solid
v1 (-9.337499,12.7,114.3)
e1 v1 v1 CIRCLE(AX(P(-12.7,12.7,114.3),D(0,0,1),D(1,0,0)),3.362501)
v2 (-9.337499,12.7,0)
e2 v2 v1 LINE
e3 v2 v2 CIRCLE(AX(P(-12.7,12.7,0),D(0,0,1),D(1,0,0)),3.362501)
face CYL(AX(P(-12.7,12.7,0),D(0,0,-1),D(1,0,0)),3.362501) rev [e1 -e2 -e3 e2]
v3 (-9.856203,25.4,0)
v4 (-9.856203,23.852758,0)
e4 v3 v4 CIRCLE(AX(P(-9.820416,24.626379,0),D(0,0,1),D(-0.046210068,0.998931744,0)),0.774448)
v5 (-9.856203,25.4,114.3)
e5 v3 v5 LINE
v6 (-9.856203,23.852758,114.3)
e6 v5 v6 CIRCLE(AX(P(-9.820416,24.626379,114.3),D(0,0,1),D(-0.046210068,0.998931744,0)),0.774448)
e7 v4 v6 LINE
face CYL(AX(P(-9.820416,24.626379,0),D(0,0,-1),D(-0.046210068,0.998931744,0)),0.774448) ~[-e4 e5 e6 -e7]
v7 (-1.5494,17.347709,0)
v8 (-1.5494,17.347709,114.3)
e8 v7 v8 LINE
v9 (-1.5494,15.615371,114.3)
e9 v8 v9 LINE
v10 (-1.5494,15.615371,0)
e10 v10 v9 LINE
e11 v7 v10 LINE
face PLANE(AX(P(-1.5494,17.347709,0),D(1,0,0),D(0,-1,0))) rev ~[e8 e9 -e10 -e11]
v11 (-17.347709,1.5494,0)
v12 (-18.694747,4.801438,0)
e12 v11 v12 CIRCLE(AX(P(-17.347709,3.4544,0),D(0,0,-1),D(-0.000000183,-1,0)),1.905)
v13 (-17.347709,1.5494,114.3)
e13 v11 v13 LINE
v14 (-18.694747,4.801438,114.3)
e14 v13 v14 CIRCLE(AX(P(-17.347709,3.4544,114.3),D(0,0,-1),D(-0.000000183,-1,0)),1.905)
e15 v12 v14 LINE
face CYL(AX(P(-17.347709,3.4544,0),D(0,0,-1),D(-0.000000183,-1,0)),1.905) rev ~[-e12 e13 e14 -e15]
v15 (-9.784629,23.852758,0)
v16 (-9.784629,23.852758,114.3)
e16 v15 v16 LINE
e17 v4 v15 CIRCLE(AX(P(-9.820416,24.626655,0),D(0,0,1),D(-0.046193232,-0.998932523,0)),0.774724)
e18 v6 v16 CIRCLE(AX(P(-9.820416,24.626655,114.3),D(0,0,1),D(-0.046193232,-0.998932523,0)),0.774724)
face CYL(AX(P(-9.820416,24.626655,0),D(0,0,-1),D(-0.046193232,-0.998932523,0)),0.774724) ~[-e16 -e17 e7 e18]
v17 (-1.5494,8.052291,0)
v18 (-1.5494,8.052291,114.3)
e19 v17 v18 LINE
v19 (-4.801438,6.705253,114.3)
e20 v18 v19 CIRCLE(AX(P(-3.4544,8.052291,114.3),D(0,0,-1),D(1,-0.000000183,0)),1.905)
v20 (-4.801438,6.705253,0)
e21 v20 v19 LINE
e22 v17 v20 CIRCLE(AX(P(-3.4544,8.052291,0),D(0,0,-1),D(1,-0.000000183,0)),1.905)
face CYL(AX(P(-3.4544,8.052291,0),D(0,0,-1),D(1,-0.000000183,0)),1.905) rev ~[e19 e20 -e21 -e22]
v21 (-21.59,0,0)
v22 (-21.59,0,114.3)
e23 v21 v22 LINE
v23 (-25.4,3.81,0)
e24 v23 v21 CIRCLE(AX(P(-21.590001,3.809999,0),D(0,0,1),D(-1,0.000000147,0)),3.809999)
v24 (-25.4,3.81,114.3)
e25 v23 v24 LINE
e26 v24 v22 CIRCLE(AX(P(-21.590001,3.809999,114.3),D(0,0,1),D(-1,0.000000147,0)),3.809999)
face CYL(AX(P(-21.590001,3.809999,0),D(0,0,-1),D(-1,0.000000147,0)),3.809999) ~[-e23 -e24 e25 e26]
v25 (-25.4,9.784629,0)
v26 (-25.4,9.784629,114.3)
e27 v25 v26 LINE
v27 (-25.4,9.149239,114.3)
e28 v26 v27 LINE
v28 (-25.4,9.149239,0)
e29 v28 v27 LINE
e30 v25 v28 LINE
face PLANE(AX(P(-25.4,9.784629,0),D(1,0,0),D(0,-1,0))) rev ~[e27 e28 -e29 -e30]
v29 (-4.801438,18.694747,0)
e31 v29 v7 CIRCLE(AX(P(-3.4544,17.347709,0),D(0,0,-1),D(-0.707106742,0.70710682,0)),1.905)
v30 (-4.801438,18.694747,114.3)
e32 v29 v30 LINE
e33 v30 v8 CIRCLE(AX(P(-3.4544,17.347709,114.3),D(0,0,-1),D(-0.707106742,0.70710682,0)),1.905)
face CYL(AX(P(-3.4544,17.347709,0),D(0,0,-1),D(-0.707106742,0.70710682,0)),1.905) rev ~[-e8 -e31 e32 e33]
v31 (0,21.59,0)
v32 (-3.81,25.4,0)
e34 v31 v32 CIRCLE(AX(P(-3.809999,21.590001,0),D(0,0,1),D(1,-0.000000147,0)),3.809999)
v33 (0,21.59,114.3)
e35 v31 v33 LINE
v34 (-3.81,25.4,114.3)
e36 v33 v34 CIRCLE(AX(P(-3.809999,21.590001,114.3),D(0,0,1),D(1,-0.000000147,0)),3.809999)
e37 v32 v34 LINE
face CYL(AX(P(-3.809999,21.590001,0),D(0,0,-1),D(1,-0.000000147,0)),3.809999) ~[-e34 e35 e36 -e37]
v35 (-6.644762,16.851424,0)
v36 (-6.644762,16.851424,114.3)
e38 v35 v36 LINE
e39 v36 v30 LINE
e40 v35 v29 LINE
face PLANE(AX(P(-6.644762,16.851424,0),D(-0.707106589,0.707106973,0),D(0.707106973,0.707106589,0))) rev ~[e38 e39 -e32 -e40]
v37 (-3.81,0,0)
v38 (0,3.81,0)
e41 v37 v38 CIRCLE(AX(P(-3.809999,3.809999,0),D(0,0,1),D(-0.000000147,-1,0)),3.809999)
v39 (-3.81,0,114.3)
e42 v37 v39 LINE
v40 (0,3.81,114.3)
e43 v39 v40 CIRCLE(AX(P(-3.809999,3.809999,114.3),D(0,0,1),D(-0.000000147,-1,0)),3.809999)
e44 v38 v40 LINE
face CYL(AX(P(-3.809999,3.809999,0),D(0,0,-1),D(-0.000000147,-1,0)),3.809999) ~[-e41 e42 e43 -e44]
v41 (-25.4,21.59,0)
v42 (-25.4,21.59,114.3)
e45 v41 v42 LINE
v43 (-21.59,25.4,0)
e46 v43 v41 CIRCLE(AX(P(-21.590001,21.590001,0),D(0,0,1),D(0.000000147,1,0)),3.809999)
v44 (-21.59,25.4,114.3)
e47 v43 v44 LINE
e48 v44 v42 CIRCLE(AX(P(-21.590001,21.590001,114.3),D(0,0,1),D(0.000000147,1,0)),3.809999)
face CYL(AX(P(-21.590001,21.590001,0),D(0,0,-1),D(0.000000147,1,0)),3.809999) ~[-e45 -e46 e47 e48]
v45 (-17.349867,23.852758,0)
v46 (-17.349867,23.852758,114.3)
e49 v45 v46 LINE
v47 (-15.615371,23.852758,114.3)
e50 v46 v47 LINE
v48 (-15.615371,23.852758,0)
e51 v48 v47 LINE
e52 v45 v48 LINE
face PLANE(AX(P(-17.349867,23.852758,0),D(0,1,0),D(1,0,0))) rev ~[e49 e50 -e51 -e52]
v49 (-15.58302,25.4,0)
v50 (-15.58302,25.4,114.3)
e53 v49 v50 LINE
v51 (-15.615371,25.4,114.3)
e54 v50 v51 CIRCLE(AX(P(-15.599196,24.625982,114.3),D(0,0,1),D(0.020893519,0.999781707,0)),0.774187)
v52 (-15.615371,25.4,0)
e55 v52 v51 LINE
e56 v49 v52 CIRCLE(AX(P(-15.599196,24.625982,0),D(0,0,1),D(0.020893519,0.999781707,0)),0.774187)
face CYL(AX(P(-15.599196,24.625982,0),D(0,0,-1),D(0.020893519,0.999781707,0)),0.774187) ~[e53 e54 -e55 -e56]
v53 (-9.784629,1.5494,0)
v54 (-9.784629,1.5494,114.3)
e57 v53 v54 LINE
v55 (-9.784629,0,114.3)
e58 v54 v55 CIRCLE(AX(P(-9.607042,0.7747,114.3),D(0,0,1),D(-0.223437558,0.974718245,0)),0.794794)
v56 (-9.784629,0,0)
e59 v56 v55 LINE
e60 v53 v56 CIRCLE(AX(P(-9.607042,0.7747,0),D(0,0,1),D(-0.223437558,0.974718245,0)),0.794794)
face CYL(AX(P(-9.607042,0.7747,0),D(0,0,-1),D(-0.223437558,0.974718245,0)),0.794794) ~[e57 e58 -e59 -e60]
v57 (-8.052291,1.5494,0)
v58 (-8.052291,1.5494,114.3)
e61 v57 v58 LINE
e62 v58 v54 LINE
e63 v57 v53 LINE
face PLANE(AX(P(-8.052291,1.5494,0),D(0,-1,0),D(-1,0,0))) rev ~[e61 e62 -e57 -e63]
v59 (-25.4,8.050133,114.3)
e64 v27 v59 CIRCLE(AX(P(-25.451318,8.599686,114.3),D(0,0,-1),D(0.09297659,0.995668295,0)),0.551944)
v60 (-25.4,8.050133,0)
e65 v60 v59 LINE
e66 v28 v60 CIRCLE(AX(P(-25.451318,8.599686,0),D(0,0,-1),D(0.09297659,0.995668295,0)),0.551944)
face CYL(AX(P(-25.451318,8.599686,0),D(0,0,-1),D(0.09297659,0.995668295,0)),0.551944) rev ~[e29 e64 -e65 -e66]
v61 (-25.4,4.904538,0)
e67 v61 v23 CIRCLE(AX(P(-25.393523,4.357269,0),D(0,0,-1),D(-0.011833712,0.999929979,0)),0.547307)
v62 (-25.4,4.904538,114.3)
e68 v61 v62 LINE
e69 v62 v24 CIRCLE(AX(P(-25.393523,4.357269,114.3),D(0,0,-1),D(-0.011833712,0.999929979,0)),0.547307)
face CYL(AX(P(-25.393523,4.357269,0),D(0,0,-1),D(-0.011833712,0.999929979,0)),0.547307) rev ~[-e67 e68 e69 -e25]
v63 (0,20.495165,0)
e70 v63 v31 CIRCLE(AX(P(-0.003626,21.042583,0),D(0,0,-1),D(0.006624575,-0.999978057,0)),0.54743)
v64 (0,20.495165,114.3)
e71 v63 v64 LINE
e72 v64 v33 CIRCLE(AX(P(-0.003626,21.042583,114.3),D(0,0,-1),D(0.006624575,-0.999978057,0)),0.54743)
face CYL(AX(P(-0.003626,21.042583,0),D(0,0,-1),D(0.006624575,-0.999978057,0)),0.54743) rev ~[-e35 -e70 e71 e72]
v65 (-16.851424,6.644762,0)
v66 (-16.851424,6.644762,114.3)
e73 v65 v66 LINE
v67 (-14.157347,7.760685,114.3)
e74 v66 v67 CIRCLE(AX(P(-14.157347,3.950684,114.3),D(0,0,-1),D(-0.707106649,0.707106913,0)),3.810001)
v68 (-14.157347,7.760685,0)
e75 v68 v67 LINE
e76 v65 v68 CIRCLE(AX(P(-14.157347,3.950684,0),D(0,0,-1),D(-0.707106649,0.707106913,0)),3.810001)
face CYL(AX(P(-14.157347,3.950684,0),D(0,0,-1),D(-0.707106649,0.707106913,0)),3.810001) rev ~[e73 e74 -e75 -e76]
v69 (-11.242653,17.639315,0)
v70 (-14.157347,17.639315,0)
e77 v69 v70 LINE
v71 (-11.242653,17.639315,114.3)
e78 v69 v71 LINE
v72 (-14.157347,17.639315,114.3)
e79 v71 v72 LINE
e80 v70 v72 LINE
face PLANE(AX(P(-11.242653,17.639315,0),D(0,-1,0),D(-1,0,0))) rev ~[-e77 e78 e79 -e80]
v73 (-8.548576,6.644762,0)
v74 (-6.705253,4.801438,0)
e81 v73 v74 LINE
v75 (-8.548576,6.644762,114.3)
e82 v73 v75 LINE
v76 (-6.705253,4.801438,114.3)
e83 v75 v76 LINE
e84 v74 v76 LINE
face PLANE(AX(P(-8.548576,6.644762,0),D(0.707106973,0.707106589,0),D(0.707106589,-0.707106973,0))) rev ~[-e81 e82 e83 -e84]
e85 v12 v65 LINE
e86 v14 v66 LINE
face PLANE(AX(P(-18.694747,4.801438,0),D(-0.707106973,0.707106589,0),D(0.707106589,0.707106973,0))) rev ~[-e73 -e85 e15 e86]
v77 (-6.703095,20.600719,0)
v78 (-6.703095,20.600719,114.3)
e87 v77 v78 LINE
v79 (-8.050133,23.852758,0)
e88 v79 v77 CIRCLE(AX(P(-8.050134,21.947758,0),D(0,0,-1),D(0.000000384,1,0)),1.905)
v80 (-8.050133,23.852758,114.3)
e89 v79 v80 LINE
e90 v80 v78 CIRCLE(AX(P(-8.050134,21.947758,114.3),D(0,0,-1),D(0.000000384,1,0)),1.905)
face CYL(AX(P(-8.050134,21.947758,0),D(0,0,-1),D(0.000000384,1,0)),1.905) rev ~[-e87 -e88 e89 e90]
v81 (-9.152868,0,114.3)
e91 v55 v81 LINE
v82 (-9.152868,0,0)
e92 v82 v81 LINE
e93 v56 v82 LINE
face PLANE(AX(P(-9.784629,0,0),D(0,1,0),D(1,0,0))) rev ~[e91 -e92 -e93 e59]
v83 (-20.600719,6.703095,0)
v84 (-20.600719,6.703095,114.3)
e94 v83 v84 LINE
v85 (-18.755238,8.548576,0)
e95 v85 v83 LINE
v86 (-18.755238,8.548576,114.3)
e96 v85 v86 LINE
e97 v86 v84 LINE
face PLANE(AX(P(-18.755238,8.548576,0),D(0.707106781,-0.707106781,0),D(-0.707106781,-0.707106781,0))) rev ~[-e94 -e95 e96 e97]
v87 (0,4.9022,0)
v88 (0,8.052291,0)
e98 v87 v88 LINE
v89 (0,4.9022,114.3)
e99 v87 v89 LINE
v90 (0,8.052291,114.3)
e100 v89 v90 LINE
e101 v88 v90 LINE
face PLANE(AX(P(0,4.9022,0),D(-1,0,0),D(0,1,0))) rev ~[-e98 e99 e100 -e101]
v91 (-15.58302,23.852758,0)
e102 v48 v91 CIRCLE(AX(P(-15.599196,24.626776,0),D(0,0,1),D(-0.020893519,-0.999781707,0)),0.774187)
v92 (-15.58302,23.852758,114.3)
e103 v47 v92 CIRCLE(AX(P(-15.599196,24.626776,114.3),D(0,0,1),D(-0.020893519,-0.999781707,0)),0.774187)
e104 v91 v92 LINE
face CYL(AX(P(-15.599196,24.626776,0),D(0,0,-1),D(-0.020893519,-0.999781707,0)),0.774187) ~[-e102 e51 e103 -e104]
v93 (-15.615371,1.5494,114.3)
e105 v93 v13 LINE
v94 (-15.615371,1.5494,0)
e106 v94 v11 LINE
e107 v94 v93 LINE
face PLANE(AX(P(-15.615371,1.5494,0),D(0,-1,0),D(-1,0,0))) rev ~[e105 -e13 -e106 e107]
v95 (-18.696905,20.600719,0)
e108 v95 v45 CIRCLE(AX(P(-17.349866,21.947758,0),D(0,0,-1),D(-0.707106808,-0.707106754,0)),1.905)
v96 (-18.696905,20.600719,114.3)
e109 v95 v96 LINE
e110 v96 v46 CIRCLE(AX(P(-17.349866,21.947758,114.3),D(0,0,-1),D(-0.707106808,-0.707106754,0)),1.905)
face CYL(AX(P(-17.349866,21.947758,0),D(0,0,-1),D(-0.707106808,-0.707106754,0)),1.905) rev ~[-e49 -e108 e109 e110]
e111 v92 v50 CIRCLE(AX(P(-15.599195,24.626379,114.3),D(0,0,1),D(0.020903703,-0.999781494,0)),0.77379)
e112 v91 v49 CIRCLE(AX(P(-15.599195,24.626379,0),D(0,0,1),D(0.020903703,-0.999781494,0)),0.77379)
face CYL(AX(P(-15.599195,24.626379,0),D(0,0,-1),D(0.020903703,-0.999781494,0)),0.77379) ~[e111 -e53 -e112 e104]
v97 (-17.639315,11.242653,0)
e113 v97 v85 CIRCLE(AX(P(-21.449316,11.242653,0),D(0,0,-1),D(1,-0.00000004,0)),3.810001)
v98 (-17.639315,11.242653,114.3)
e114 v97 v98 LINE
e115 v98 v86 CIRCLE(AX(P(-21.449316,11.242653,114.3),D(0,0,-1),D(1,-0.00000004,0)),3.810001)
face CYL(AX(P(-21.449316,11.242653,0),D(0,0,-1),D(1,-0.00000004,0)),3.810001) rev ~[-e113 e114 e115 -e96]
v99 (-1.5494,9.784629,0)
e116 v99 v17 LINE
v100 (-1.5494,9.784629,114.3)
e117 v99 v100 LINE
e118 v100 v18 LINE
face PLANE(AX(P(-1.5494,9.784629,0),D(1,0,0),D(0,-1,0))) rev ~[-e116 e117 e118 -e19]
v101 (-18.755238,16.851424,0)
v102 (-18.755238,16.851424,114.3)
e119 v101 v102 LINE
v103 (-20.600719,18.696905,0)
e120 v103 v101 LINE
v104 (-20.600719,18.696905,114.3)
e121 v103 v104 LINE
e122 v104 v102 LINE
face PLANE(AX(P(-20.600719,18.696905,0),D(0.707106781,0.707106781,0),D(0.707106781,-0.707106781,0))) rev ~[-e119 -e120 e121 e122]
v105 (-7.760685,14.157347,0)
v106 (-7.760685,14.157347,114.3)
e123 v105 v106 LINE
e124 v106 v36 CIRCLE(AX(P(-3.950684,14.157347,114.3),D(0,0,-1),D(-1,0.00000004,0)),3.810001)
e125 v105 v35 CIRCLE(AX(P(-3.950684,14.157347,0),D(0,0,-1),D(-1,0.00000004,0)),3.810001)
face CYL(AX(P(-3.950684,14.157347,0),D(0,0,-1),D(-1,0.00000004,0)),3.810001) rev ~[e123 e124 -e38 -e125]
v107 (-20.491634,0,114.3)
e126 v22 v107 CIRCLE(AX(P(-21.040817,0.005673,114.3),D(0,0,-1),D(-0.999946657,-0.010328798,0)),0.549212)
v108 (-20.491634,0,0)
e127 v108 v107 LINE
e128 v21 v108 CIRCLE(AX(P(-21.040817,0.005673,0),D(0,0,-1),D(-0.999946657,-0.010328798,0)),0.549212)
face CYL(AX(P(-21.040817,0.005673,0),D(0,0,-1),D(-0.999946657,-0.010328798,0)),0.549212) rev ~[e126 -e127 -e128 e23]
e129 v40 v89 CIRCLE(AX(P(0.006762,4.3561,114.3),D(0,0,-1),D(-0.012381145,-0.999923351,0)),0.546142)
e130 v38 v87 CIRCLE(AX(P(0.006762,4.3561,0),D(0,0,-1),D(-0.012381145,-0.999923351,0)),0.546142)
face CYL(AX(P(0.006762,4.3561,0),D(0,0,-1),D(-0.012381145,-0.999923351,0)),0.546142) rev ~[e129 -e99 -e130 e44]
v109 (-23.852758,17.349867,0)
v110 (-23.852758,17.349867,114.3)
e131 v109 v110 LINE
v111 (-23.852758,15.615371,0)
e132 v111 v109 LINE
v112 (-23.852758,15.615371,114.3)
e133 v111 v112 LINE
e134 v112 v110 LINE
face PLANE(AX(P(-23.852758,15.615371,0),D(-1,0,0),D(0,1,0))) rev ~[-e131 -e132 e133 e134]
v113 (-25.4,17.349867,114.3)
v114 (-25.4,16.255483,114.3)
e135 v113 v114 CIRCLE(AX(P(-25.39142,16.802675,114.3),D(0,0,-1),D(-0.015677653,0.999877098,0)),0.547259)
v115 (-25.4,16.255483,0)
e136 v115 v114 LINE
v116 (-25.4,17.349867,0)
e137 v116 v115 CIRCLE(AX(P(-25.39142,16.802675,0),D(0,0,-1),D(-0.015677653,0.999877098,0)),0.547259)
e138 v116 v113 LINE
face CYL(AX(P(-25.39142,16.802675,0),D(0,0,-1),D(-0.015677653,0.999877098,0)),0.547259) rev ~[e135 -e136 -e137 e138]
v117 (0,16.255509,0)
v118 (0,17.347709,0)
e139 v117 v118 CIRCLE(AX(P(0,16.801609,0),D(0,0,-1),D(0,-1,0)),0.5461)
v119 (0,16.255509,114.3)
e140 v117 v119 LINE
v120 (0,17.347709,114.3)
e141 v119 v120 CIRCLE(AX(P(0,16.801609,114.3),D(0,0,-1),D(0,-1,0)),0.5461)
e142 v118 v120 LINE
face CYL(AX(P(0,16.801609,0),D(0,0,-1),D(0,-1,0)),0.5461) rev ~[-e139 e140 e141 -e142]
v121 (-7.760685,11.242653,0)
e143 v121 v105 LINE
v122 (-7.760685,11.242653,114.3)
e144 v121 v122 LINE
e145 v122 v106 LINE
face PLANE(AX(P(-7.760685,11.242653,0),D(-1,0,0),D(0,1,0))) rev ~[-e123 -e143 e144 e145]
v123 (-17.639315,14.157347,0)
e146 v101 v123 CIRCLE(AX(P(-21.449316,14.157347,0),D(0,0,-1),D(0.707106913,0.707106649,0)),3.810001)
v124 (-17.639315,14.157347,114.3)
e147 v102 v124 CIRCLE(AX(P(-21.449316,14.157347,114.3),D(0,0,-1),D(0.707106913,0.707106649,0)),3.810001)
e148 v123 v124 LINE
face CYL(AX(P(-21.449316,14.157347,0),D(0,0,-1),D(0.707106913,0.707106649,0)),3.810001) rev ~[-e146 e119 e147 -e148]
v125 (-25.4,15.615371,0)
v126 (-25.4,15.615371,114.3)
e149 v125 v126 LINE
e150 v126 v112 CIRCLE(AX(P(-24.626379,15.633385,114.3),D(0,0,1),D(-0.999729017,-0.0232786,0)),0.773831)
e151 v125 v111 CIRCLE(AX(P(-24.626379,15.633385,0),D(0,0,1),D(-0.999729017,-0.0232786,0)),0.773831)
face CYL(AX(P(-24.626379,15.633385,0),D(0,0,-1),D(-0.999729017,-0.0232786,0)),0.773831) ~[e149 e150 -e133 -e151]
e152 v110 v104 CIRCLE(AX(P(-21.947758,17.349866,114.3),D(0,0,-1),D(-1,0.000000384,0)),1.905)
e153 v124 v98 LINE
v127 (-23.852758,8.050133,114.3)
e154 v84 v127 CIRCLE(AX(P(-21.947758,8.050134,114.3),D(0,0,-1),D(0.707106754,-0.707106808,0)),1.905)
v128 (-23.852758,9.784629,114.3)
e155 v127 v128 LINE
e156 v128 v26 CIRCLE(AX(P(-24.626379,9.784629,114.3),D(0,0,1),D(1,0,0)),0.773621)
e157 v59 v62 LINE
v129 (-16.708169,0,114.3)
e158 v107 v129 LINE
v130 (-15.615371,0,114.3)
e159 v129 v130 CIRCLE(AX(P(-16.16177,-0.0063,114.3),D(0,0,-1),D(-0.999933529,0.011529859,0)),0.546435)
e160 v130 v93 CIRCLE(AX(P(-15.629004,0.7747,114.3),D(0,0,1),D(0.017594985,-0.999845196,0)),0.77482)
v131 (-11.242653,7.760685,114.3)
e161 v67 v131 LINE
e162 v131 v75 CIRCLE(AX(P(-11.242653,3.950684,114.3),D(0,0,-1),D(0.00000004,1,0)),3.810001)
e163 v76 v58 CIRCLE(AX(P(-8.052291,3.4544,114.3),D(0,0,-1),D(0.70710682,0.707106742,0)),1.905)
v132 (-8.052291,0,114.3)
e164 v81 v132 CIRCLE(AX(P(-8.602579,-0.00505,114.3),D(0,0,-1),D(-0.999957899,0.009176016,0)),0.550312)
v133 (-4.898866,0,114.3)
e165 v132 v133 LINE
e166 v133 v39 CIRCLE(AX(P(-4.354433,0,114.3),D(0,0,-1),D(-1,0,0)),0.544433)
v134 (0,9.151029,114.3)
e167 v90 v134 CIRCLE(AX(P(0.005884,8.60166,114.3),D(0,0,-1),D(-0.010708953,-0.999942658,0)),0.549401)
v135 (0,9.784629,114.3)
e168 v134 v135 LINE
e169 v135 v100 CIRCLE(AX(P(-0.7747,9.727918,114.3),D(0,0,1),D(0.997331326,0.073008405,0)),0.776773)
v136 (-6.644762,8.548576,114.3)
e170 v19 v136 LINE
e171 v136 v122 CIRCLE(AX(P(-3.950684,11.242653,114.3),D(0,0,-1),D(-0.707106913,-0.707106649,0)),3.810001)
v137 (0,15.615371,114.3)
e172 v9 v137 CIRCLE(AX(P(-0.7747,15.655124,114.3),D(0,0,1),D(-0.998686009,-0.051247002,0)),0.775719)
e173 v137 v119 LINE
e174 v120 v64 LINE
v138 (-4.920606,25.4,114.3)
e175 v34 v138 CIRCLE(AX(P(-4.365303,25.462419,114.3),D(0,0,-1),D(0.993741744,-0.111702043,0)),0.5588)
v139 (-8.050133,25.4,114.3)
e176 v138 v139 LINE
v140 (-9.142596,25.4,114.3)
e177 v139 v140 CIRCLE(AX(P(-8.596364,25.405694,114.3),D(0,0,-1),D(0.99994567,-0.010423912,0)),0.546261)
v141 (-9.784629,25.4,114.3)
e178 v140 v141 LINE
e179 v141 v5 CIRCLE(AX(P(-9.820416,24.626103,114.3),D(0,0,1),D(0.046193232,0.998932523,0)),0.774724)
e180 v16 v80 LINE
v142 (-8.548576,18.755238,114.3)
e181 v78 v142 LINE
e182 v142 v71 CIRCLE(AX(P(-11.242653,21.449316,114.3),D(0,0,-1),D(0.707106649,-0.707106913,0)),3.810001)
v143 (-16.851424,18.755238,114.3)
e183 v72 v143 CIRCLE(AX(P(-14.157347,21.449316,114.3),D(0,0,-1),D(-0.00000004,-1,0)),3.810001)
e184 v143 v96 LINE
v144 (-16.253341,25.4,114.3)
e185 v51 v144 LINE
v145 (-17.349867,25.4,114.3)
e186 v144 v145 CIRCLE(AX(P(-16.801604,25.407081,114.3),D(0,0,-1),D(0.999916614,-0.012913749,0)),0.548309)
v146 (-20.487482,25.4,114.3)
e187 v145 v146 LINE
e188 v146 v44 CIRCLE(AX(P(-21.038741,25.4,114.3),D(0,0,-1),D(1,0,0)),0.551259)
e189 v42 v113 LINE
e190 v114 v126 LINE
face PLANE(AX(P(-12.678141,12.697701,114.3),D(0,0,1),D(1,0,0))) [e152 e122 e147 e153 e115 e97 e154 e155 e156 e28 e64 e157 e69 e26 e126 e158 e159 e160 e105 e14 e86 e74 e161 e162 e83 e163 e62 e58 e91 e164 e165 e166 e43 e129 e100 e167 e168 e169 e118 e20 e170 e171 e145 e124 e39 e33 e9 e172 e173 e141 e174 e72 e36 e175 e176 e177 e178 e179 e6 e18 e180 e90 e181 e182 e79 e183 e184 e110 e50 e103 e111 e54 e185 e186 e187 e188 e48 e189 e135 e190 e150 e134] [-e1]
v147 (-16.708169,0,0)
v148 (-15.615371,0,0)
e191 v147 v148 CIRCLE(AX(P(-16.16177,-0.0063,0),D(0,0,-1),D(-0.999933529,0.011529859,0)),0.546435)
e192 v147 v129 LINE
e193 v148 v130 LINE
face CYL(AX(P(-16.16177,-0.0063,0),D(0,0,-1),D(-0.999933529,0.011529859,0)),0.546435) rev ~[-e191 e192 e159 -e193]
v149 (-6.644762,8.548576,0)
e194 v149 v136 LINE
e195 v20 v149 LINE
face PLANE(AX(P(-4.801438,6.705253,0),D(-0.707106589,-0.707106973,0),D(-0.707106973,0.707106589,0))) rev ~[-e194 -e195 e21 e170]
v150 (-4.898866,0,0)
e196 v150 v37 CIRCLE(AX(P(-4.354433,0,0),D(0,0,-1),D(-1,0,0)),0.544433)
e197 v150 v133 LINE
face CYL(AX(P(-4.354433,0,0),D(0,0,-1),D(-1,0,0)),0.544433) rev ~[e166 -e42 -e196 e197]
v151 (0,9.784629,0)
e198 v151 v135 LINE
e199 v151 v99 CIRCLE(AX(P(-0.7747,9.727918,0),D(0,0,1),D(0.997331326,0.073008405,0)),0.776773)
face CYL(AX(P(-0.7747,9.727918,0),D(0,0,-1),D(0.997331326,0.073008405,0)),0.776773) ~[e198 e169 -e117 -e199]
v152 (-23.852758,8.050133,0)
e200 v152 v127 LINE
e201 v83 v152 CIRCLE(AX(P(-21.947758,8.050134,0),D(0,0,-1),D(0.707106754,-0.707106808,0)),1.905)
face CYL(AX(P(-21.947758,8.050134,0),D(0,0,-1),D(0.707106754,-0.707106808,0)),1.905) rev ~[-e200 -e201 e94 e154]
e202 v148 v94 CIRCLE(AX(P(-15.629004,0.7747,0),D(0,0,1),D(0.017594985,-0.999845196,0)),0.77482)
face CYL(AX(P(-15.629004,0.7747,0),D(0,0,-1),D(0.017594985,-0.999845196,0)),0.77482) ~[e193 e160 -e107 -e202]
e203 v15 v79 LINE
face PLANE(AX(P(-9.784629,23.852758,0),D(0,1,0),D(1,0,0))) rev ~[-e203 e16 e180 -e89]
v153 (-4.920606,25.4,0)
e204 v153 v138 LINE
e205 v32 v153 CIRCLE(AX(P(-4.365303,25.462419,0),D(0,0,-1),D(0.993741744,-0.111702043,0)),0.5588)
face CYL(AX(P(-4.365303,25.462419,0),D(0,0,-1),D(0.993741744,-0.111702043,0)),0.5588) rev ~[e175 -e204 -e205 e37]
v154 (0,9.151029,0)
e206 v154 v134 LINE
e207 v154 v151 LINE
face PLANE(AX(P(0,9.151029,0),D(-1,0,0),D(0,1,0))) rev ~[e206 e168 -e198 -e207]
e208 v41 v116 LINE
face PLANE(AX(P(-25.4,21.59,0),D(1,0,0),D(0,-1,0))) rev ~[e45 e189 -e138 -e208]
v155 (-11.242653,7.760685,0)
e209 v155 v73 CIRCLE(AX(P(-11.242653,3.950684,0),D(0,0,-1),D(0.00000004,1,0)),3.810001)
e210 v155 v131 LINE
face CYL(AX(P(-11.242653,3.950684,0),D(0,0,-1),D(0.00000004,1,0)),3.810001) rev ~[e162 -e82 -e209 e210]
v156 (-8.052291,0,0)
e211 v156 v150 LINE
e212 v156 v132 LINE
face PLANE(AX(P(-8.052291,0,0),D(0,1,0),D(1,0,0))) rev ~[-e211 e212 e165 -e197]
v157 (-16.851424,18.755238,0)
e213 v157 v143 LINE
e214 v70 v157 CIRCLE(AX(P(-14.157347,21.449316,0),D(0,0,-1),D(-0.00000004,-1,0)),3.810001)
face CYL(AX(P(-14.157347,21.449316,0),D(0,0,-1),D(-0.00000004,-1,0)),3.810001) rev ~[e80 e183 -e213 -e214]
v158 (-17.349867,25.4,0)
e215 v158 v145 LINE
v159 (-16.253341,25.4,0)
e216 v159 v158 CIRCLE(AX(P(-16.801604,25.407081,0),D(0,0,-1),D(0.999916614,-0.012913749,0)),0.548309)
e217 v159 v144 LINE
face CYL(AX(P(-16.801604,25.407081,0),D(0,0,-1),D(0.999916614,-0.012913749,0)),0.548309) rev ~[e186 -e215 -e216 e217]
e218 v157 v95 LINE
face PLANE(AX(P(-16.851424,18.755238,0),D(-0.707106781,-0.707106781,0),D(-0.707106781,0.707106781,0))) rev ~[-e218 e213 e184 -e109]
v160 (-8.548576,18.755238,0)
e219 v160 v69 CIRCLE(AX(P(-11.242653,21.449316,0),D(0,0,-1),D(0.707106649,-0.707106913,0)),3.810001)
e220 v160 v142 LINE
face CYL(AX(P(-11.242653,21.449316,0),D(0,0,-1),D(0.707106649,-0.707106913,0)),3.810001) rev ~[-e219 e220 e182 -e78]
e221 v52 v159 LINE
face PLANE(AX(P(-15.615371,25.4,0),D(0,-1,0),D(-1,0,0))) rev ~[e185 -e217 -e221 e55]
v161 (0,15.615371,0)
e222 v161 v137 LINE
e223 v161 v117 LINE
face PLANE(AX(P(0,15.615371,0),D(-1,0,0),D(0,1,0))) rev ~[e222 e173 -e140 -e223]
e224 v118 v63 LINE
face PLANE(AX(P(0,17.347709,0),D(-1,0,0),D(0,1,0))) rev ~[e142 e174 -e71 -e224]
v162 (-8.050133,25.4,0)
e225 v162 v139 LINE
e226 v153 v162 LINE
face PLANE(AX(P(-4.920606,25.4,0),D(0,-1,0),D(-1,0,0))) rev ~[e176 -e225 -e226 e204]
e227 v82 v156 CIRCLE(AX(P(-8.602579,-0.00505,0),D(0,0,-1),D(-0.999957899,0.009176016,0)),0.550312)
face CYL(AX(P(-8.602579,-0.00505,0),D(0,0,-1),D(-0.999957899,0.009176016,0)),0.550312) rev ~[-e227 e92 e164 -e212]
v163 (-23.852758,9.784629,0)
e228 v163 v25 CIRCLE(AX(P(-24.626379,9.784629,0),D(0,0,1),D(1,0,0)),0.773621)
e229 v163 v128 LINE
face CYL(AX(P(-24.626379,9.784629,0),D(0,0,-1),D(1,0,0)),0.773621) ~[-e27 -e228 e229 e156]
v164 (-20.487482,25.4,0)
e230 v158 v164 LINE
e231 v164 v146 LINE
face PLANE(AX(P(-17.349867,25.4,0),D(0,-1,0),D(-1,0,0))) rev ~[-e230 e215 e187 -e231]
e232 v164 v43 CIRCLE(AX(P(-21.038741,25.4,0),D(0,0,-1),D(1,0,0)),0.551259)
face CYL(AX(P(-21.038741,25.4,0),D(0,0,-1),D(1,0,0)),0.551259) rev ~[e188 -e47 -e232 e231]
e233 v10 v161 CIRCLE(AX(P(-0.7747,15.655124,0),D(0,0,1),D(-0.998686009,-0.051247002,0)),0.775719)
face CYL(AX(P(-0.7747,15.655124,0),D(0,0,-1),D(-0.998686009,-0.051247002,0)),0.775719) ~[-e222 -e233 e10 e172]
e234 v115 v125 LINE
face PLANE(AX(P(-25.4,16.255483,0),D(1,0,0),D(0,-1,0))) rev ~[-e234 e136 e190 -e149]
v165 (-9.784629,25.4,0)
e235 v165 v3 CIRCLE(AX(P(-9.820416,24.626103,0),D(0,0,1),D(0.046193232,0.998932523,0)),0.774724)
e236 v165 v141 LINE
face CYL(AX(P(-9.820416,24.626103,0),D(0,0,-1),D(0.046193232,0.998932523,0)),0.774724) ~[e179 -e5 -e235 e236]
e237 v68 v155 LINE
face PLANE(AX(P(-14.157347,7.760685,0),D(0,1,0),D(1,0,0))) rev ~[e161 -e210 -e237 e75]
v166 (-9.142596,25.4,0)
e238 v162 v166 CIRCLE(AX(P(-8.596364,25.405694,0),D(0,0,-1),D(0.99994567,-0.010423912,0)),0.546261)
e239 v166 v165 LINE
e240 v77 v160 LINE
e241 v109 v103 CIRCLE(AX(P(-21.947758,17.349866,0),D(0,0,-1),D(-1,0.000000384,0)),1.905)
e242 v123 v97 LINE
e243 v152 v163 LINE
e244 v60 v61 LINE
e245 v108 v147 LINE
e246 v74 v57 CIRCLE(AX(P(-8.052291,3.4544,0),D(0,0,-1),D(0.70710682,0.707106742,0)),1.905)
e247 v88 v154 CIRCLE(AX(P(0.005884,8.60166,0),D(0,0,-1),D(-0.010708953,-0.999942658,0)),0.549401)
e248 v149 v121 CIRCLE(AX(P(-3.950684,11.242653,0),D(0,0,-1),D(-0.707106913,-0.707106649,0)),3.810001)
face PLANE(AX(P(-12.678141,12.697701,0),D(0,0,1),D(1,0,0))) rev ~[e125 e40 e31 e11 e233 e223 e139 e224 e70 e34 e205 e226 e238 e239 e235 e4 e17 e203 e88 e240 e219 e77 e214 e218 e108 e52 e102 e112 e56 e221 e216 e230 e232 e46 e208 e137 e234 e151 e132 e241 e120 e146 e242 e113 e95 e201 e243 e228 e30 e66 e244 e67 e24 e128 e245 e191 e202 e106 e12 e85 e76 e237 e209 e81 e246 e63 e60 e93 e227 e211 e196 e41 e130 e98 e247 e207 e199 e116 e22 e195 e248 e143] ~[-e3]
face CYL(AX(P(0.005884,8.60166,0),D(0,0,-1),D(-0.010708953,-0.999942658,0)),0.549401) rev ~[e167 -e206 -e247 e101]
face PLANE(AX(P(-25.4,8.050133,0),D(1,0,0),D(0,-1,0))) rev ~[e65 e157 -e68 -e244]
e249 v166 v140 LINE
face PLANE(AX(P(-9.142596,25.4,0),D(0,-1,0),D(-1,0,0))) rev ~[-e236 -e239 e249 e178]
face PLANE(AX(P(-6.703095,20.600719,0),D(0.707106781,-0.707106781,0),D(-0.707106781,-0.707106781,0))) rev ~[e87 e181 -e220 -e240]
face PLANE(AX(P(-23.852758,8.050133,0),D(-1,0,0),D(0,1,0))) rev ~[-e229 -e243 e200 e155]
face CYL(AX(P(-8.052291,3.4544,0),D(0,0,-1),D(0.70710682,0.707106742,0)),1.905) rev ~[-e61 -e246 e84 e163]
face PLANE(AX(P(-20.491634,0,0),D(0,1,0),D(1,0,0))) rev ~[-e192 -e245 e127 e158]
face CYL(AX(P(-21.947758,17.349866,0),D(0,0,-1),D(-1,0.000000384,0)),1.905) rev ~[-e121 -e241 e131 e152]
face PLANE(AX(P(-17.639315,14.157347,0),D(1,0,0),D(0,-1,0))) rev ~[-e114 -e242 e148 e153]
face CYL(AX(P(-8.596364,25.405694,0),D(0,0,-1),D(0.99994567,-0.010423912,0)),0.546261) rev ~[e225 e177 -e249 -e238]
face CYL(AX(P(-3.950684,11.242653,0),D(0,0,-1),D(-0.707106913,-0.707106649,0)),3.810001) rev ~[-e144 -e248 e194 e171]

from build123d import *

# Parameters (mm, degrees)
F0_R     = 3.362501
F1_DEPTH = 114.3


with BuildPart() as f1:
    # F0 (on Top) → F1 (new body)
    with BuildSketch(Plane.XY):
        with BuildLine():
            ThreePointArc((-8.548576, 18.755238), (-9.784629, 17.929334), (-11.242653, 17.639315))
            Line((-11.242653, 17.639315), (-14.157347, 17.639315))
            ThreePointArc((-14.157347, 17.639315), (-15.615371, 17.929334), (-16.851424, 18.755238))
            Line((-16.851424, 18.755238), (-18.696905, 20.600719))
            ThreePointArc((-18.696905, 20.600719), (-19.109857, 22.67677), (-17.349867, 23.852758))
            Line((-17.349867, 23.852758), (-15.615371, 23.852758))
            Line((-15.615371, 23.852758), (-15.58302, 23.852758))
            ThreePointArc((-15.58302, 23.852758), (-14.825405, 24.626379), (-15.58302, 25.4))
            Line((-15.58302, 25.4), (-15.615371, 25.4))
            Line((-15.615371, 25.4), (-16.253341, 25.4))
            ThreePointArc((-16.253341, 25.4), (-16.801604, 24.858772), (-17.349867, 25.4))
            Line((-17.349867, 25.4), (-20.487482, 25.4))
            ThreePointArc((-20.487482, 25.4), (-21.038741, 24.848741), (-21.59, 25.4))
            ThreePointArc((-21.59, 25.4), (-24.284077, 24.284077), (-25.4, 21.59))
            Line((-25.4, 21.59), (-25.4, 20.504724))
            Line((-25.4, 20.504724), (-25.4, 17.349867))
            ThreePointArc((-25.4, 17.349867), (-24.844161, 16.802675), (-25.4, 16.255483))
            Line((-25.4, 16.255483), (-25.4, 15.615371))
            ThreePointArc((-25.4, 15.615371), (-24.626379, 14.859554), (-23.852758, 15.615371))
            Line((-23.852758, 15.615371), (-23.852758, 17.349867))
            ThreePointArc((-23.852758, 17.349867), (-22.67677, 19.109857), (-20.600719, 18.696905))
            Line((-20.600719, 18.696905), (-18.755238, 16.851424))
            ThreePointArc((-18.755238, 16.851424), (-17.929334, 15.615371), (-17.639315, 14.157347))
            Line((-17.639315, 14.157347), (-17.639315, 11.242653))
            ThreePointArc((-17.639315, 11.242653), (-17.929334, 9.784629), (-18.755238, 8.548576))
            Line((-18.755238, 8.548576), (-20.600719, 6.703095))
            ThreePointArc((-20.600719, 6.703095), (-22.67677, 6.290143), (-23.852758, 8.050133))
            Line((-23.852758, 8.050133), (-23.852758, 9.784629))
            ThreePointArc((-23.852758, 9.784629), (-24.626379, 10.55825), (-25.4, 9.784629))
            Line((-25.4, 9.784629), (-25.4, 9.149239))
            ThreePointArc((-25.4, 9.149239), (-24.899374, 8.599686), (-25.4, 8.050133))
            Line((-25.4, 8.050133), (-25.4, 4.904538))
            ThreePointArc((-25.4, 4.904538), (-24.846216, 4.357269), (-25.4, 3.81))
            ThreePointArc((-25.4, 3.81), (-24.284077, 1.115923), (-21.59, 0))
            ThreePointArc((-21.59, 0), (-21.040817, 0.554885), (-20.491634, 0))
            Line((-20.491634, 0), (-16.708169, 0))
            ThreePointArc((-16.708169, 0), (-16.16177, 0.540135), (-15.615371, 0))
            ThreePointArc((-15.615371, 0), (-14.854184, 0.7747), (-15.615371, 1.5494))
            Line((-15.615371, 1.5494), (-17.347709, 1.5494))
            ThreePointArc((-17.347709, 1.5494), (-19.107699, 2.725388), (-18.694747, 4.801438))
            Line((-18.694747, 4.801438), (-16.851424, 6.644762))
            ThreePointArc((-16.851424, 6.644762), (-15.615371, 7.470666), (-14.157347, 7.760685))
            Line((-14.157347, 7.760685), (-11.242653, 7.760685))
            ThreePointArc((-11.242653, 7.760685), (-9.784629, 7.470666), (-8.548576, 6.644762))
            Line((-8.548576, 6.644762), (-6.705253, 4.801438))
            ThreePointArc((-6.705253, 4.801438), (-6.292301, 2.725388), (-8.052291, 1.5494))
            Line((-8.052291, 1.5494), (-9.784629, 1.5494))
            ThreePointArc((-9.784629, 1.5494), (-10.401836, 0.7747), (-9.784629, 0))
            Line((-9.784629, 0), (-9.152868, 0))
            ThreePointArc((-9.152868, 0), (-8.602579, 0.545262), (-8.052291, 0))
            Line((-8.052291, 0), (-4.898866, 0))
            ThreePointArc((-4.898866, 0), (-4.354433, 0.544433), (-3.81, 0))
            ThreePointArc((-3.81, 0), (-1.115923, 1.115923), (0, 3.81))
            ThreePointArc((0, 3.81), (-0.53938, 4.3561), (0, 4.9022))
            Line((0, 4.9022), (0, 8.052291))
            ThreePointArc((0, 8.052291), (-0.543517, 8.60166), (0, 9.151029))
            Line((0, 9.151029), (0, 9.784629))
            ThreePointArc((0, 9.784629), (-0.7747, 10.504691), (-1.5494, 9.784629))
            Line((-1.5494, 9.784629), (-1.5494, 8.052291))
            ThreePointArc((-1.5494, 8.052291), (-2.725388, 6.292301), (-4.801438, 6.705253))
            Line((-4.801438, 6.705253), (-6.644762, 8.548576))
            ThreePointArc((-6.644762, 8.548576), (-7.470666, 9.784629), (-7.760685, 11.242653))
            Line((-7.760685, 11.242653), (-7.760685, 14.157347))
            ThreePointArc((-7.760685, 14.157347), (-7.470666, 15.615371), (-6.644762, 16.851424))
            Line((-6.644762, 16.851424), (-4.801438, 18.694747))
            ThreePointArc((-4.801438, 18.694747), (-2.725388, 19.107699), (-1.5494, 17.347709))
            Line((-1.5494, 17.347709), (-1.5494, 15.615371))
            ThreePointArc((-1.5494, 15.615371), (-0.7747, 14.879405), (0, 15.615371))
            Line((0, 15.615371), (0, 16.255509))
            ThreePointArc((0, 16.255509), (-0.5461, 16.801609), (0, 17.347709))
            Line((0, 17.347709), (0, 20.495165))
            ThreePointArc((0, 20.495165), (-0.551056, 21.042583), (0, 21.59))
            ThreePointArc((0, 21.59), (-1.115923, 24.284077), (-3.81, 25.4))
            ThreePointArc((-3.81, 25.4), (-4.365303, 24.903619), (-4.920606, 25.4))
            Line((-4.920606, 25.4), (-8.050133, 25.4))
            ThreePointArc((-8.050133, 25.4), (-8.596365, 24.859433), (-9.142596, 25.4))
            Line((-9.142596, 25.4), (-9.784629, 25.4))
            Line((-9.784629, 25.4), (-9.856203, 25.4))
            ThreePointArc((-9.856203, 25.4), (-10.594864, 24.626379), (-9.856203, 23.852758))
            Line((-9.856203, 23.852758), (-9.784629, 23.852758))
            Line((-9.784629, 23.852758), (-8.050133, 23.852758))
            ThreePointArc((-8.050133, 23.852758), (-6.290143, 22.67677), (-6.703095, 20.600719))
            Line((-6.703095, 20.600719), (-8.548576, 18.755238))
        make_face()
        with Locations((-12.7, 12.7)):
            Circle(F0_R, mode=Mode.SUBTRACT)
        with BuildLine():
            ThreePointArc((-9.856203, 23.852758), (-9.820416, 23.851931), (-9.784629, 23.852758))
            Line((-9.784629, 23.852758), (-9.856203, 23.852758))
        make_face()
        with BuildLine():
            Line((-15.58302, 23.852758), (-15.615371, 23.852758))
            ThreePointArc((-15.615371, 23.852758), (-15.599195, 23.852589), (-15.58302, 23.852758))
        make_face()
        with BuildLine():
            ThreePointArc((-9.784629, 25.4), (-9.820416, 25.400827), (-9.856203, 25.4))
            Line((-9.856203, 25.4), (-9.784629, 25.4))
        make_face()
        with BuildLine():
            Line((-15.615371, 25.4), (-15.58302, 25.4))
            ThreePointArc((-15.58302, 25.4), (-15.599195, 25.400169), (-15.615371, 25.4))
        make_face()
    extrude(amount=F1_DEPTH)


solid = f1.part
